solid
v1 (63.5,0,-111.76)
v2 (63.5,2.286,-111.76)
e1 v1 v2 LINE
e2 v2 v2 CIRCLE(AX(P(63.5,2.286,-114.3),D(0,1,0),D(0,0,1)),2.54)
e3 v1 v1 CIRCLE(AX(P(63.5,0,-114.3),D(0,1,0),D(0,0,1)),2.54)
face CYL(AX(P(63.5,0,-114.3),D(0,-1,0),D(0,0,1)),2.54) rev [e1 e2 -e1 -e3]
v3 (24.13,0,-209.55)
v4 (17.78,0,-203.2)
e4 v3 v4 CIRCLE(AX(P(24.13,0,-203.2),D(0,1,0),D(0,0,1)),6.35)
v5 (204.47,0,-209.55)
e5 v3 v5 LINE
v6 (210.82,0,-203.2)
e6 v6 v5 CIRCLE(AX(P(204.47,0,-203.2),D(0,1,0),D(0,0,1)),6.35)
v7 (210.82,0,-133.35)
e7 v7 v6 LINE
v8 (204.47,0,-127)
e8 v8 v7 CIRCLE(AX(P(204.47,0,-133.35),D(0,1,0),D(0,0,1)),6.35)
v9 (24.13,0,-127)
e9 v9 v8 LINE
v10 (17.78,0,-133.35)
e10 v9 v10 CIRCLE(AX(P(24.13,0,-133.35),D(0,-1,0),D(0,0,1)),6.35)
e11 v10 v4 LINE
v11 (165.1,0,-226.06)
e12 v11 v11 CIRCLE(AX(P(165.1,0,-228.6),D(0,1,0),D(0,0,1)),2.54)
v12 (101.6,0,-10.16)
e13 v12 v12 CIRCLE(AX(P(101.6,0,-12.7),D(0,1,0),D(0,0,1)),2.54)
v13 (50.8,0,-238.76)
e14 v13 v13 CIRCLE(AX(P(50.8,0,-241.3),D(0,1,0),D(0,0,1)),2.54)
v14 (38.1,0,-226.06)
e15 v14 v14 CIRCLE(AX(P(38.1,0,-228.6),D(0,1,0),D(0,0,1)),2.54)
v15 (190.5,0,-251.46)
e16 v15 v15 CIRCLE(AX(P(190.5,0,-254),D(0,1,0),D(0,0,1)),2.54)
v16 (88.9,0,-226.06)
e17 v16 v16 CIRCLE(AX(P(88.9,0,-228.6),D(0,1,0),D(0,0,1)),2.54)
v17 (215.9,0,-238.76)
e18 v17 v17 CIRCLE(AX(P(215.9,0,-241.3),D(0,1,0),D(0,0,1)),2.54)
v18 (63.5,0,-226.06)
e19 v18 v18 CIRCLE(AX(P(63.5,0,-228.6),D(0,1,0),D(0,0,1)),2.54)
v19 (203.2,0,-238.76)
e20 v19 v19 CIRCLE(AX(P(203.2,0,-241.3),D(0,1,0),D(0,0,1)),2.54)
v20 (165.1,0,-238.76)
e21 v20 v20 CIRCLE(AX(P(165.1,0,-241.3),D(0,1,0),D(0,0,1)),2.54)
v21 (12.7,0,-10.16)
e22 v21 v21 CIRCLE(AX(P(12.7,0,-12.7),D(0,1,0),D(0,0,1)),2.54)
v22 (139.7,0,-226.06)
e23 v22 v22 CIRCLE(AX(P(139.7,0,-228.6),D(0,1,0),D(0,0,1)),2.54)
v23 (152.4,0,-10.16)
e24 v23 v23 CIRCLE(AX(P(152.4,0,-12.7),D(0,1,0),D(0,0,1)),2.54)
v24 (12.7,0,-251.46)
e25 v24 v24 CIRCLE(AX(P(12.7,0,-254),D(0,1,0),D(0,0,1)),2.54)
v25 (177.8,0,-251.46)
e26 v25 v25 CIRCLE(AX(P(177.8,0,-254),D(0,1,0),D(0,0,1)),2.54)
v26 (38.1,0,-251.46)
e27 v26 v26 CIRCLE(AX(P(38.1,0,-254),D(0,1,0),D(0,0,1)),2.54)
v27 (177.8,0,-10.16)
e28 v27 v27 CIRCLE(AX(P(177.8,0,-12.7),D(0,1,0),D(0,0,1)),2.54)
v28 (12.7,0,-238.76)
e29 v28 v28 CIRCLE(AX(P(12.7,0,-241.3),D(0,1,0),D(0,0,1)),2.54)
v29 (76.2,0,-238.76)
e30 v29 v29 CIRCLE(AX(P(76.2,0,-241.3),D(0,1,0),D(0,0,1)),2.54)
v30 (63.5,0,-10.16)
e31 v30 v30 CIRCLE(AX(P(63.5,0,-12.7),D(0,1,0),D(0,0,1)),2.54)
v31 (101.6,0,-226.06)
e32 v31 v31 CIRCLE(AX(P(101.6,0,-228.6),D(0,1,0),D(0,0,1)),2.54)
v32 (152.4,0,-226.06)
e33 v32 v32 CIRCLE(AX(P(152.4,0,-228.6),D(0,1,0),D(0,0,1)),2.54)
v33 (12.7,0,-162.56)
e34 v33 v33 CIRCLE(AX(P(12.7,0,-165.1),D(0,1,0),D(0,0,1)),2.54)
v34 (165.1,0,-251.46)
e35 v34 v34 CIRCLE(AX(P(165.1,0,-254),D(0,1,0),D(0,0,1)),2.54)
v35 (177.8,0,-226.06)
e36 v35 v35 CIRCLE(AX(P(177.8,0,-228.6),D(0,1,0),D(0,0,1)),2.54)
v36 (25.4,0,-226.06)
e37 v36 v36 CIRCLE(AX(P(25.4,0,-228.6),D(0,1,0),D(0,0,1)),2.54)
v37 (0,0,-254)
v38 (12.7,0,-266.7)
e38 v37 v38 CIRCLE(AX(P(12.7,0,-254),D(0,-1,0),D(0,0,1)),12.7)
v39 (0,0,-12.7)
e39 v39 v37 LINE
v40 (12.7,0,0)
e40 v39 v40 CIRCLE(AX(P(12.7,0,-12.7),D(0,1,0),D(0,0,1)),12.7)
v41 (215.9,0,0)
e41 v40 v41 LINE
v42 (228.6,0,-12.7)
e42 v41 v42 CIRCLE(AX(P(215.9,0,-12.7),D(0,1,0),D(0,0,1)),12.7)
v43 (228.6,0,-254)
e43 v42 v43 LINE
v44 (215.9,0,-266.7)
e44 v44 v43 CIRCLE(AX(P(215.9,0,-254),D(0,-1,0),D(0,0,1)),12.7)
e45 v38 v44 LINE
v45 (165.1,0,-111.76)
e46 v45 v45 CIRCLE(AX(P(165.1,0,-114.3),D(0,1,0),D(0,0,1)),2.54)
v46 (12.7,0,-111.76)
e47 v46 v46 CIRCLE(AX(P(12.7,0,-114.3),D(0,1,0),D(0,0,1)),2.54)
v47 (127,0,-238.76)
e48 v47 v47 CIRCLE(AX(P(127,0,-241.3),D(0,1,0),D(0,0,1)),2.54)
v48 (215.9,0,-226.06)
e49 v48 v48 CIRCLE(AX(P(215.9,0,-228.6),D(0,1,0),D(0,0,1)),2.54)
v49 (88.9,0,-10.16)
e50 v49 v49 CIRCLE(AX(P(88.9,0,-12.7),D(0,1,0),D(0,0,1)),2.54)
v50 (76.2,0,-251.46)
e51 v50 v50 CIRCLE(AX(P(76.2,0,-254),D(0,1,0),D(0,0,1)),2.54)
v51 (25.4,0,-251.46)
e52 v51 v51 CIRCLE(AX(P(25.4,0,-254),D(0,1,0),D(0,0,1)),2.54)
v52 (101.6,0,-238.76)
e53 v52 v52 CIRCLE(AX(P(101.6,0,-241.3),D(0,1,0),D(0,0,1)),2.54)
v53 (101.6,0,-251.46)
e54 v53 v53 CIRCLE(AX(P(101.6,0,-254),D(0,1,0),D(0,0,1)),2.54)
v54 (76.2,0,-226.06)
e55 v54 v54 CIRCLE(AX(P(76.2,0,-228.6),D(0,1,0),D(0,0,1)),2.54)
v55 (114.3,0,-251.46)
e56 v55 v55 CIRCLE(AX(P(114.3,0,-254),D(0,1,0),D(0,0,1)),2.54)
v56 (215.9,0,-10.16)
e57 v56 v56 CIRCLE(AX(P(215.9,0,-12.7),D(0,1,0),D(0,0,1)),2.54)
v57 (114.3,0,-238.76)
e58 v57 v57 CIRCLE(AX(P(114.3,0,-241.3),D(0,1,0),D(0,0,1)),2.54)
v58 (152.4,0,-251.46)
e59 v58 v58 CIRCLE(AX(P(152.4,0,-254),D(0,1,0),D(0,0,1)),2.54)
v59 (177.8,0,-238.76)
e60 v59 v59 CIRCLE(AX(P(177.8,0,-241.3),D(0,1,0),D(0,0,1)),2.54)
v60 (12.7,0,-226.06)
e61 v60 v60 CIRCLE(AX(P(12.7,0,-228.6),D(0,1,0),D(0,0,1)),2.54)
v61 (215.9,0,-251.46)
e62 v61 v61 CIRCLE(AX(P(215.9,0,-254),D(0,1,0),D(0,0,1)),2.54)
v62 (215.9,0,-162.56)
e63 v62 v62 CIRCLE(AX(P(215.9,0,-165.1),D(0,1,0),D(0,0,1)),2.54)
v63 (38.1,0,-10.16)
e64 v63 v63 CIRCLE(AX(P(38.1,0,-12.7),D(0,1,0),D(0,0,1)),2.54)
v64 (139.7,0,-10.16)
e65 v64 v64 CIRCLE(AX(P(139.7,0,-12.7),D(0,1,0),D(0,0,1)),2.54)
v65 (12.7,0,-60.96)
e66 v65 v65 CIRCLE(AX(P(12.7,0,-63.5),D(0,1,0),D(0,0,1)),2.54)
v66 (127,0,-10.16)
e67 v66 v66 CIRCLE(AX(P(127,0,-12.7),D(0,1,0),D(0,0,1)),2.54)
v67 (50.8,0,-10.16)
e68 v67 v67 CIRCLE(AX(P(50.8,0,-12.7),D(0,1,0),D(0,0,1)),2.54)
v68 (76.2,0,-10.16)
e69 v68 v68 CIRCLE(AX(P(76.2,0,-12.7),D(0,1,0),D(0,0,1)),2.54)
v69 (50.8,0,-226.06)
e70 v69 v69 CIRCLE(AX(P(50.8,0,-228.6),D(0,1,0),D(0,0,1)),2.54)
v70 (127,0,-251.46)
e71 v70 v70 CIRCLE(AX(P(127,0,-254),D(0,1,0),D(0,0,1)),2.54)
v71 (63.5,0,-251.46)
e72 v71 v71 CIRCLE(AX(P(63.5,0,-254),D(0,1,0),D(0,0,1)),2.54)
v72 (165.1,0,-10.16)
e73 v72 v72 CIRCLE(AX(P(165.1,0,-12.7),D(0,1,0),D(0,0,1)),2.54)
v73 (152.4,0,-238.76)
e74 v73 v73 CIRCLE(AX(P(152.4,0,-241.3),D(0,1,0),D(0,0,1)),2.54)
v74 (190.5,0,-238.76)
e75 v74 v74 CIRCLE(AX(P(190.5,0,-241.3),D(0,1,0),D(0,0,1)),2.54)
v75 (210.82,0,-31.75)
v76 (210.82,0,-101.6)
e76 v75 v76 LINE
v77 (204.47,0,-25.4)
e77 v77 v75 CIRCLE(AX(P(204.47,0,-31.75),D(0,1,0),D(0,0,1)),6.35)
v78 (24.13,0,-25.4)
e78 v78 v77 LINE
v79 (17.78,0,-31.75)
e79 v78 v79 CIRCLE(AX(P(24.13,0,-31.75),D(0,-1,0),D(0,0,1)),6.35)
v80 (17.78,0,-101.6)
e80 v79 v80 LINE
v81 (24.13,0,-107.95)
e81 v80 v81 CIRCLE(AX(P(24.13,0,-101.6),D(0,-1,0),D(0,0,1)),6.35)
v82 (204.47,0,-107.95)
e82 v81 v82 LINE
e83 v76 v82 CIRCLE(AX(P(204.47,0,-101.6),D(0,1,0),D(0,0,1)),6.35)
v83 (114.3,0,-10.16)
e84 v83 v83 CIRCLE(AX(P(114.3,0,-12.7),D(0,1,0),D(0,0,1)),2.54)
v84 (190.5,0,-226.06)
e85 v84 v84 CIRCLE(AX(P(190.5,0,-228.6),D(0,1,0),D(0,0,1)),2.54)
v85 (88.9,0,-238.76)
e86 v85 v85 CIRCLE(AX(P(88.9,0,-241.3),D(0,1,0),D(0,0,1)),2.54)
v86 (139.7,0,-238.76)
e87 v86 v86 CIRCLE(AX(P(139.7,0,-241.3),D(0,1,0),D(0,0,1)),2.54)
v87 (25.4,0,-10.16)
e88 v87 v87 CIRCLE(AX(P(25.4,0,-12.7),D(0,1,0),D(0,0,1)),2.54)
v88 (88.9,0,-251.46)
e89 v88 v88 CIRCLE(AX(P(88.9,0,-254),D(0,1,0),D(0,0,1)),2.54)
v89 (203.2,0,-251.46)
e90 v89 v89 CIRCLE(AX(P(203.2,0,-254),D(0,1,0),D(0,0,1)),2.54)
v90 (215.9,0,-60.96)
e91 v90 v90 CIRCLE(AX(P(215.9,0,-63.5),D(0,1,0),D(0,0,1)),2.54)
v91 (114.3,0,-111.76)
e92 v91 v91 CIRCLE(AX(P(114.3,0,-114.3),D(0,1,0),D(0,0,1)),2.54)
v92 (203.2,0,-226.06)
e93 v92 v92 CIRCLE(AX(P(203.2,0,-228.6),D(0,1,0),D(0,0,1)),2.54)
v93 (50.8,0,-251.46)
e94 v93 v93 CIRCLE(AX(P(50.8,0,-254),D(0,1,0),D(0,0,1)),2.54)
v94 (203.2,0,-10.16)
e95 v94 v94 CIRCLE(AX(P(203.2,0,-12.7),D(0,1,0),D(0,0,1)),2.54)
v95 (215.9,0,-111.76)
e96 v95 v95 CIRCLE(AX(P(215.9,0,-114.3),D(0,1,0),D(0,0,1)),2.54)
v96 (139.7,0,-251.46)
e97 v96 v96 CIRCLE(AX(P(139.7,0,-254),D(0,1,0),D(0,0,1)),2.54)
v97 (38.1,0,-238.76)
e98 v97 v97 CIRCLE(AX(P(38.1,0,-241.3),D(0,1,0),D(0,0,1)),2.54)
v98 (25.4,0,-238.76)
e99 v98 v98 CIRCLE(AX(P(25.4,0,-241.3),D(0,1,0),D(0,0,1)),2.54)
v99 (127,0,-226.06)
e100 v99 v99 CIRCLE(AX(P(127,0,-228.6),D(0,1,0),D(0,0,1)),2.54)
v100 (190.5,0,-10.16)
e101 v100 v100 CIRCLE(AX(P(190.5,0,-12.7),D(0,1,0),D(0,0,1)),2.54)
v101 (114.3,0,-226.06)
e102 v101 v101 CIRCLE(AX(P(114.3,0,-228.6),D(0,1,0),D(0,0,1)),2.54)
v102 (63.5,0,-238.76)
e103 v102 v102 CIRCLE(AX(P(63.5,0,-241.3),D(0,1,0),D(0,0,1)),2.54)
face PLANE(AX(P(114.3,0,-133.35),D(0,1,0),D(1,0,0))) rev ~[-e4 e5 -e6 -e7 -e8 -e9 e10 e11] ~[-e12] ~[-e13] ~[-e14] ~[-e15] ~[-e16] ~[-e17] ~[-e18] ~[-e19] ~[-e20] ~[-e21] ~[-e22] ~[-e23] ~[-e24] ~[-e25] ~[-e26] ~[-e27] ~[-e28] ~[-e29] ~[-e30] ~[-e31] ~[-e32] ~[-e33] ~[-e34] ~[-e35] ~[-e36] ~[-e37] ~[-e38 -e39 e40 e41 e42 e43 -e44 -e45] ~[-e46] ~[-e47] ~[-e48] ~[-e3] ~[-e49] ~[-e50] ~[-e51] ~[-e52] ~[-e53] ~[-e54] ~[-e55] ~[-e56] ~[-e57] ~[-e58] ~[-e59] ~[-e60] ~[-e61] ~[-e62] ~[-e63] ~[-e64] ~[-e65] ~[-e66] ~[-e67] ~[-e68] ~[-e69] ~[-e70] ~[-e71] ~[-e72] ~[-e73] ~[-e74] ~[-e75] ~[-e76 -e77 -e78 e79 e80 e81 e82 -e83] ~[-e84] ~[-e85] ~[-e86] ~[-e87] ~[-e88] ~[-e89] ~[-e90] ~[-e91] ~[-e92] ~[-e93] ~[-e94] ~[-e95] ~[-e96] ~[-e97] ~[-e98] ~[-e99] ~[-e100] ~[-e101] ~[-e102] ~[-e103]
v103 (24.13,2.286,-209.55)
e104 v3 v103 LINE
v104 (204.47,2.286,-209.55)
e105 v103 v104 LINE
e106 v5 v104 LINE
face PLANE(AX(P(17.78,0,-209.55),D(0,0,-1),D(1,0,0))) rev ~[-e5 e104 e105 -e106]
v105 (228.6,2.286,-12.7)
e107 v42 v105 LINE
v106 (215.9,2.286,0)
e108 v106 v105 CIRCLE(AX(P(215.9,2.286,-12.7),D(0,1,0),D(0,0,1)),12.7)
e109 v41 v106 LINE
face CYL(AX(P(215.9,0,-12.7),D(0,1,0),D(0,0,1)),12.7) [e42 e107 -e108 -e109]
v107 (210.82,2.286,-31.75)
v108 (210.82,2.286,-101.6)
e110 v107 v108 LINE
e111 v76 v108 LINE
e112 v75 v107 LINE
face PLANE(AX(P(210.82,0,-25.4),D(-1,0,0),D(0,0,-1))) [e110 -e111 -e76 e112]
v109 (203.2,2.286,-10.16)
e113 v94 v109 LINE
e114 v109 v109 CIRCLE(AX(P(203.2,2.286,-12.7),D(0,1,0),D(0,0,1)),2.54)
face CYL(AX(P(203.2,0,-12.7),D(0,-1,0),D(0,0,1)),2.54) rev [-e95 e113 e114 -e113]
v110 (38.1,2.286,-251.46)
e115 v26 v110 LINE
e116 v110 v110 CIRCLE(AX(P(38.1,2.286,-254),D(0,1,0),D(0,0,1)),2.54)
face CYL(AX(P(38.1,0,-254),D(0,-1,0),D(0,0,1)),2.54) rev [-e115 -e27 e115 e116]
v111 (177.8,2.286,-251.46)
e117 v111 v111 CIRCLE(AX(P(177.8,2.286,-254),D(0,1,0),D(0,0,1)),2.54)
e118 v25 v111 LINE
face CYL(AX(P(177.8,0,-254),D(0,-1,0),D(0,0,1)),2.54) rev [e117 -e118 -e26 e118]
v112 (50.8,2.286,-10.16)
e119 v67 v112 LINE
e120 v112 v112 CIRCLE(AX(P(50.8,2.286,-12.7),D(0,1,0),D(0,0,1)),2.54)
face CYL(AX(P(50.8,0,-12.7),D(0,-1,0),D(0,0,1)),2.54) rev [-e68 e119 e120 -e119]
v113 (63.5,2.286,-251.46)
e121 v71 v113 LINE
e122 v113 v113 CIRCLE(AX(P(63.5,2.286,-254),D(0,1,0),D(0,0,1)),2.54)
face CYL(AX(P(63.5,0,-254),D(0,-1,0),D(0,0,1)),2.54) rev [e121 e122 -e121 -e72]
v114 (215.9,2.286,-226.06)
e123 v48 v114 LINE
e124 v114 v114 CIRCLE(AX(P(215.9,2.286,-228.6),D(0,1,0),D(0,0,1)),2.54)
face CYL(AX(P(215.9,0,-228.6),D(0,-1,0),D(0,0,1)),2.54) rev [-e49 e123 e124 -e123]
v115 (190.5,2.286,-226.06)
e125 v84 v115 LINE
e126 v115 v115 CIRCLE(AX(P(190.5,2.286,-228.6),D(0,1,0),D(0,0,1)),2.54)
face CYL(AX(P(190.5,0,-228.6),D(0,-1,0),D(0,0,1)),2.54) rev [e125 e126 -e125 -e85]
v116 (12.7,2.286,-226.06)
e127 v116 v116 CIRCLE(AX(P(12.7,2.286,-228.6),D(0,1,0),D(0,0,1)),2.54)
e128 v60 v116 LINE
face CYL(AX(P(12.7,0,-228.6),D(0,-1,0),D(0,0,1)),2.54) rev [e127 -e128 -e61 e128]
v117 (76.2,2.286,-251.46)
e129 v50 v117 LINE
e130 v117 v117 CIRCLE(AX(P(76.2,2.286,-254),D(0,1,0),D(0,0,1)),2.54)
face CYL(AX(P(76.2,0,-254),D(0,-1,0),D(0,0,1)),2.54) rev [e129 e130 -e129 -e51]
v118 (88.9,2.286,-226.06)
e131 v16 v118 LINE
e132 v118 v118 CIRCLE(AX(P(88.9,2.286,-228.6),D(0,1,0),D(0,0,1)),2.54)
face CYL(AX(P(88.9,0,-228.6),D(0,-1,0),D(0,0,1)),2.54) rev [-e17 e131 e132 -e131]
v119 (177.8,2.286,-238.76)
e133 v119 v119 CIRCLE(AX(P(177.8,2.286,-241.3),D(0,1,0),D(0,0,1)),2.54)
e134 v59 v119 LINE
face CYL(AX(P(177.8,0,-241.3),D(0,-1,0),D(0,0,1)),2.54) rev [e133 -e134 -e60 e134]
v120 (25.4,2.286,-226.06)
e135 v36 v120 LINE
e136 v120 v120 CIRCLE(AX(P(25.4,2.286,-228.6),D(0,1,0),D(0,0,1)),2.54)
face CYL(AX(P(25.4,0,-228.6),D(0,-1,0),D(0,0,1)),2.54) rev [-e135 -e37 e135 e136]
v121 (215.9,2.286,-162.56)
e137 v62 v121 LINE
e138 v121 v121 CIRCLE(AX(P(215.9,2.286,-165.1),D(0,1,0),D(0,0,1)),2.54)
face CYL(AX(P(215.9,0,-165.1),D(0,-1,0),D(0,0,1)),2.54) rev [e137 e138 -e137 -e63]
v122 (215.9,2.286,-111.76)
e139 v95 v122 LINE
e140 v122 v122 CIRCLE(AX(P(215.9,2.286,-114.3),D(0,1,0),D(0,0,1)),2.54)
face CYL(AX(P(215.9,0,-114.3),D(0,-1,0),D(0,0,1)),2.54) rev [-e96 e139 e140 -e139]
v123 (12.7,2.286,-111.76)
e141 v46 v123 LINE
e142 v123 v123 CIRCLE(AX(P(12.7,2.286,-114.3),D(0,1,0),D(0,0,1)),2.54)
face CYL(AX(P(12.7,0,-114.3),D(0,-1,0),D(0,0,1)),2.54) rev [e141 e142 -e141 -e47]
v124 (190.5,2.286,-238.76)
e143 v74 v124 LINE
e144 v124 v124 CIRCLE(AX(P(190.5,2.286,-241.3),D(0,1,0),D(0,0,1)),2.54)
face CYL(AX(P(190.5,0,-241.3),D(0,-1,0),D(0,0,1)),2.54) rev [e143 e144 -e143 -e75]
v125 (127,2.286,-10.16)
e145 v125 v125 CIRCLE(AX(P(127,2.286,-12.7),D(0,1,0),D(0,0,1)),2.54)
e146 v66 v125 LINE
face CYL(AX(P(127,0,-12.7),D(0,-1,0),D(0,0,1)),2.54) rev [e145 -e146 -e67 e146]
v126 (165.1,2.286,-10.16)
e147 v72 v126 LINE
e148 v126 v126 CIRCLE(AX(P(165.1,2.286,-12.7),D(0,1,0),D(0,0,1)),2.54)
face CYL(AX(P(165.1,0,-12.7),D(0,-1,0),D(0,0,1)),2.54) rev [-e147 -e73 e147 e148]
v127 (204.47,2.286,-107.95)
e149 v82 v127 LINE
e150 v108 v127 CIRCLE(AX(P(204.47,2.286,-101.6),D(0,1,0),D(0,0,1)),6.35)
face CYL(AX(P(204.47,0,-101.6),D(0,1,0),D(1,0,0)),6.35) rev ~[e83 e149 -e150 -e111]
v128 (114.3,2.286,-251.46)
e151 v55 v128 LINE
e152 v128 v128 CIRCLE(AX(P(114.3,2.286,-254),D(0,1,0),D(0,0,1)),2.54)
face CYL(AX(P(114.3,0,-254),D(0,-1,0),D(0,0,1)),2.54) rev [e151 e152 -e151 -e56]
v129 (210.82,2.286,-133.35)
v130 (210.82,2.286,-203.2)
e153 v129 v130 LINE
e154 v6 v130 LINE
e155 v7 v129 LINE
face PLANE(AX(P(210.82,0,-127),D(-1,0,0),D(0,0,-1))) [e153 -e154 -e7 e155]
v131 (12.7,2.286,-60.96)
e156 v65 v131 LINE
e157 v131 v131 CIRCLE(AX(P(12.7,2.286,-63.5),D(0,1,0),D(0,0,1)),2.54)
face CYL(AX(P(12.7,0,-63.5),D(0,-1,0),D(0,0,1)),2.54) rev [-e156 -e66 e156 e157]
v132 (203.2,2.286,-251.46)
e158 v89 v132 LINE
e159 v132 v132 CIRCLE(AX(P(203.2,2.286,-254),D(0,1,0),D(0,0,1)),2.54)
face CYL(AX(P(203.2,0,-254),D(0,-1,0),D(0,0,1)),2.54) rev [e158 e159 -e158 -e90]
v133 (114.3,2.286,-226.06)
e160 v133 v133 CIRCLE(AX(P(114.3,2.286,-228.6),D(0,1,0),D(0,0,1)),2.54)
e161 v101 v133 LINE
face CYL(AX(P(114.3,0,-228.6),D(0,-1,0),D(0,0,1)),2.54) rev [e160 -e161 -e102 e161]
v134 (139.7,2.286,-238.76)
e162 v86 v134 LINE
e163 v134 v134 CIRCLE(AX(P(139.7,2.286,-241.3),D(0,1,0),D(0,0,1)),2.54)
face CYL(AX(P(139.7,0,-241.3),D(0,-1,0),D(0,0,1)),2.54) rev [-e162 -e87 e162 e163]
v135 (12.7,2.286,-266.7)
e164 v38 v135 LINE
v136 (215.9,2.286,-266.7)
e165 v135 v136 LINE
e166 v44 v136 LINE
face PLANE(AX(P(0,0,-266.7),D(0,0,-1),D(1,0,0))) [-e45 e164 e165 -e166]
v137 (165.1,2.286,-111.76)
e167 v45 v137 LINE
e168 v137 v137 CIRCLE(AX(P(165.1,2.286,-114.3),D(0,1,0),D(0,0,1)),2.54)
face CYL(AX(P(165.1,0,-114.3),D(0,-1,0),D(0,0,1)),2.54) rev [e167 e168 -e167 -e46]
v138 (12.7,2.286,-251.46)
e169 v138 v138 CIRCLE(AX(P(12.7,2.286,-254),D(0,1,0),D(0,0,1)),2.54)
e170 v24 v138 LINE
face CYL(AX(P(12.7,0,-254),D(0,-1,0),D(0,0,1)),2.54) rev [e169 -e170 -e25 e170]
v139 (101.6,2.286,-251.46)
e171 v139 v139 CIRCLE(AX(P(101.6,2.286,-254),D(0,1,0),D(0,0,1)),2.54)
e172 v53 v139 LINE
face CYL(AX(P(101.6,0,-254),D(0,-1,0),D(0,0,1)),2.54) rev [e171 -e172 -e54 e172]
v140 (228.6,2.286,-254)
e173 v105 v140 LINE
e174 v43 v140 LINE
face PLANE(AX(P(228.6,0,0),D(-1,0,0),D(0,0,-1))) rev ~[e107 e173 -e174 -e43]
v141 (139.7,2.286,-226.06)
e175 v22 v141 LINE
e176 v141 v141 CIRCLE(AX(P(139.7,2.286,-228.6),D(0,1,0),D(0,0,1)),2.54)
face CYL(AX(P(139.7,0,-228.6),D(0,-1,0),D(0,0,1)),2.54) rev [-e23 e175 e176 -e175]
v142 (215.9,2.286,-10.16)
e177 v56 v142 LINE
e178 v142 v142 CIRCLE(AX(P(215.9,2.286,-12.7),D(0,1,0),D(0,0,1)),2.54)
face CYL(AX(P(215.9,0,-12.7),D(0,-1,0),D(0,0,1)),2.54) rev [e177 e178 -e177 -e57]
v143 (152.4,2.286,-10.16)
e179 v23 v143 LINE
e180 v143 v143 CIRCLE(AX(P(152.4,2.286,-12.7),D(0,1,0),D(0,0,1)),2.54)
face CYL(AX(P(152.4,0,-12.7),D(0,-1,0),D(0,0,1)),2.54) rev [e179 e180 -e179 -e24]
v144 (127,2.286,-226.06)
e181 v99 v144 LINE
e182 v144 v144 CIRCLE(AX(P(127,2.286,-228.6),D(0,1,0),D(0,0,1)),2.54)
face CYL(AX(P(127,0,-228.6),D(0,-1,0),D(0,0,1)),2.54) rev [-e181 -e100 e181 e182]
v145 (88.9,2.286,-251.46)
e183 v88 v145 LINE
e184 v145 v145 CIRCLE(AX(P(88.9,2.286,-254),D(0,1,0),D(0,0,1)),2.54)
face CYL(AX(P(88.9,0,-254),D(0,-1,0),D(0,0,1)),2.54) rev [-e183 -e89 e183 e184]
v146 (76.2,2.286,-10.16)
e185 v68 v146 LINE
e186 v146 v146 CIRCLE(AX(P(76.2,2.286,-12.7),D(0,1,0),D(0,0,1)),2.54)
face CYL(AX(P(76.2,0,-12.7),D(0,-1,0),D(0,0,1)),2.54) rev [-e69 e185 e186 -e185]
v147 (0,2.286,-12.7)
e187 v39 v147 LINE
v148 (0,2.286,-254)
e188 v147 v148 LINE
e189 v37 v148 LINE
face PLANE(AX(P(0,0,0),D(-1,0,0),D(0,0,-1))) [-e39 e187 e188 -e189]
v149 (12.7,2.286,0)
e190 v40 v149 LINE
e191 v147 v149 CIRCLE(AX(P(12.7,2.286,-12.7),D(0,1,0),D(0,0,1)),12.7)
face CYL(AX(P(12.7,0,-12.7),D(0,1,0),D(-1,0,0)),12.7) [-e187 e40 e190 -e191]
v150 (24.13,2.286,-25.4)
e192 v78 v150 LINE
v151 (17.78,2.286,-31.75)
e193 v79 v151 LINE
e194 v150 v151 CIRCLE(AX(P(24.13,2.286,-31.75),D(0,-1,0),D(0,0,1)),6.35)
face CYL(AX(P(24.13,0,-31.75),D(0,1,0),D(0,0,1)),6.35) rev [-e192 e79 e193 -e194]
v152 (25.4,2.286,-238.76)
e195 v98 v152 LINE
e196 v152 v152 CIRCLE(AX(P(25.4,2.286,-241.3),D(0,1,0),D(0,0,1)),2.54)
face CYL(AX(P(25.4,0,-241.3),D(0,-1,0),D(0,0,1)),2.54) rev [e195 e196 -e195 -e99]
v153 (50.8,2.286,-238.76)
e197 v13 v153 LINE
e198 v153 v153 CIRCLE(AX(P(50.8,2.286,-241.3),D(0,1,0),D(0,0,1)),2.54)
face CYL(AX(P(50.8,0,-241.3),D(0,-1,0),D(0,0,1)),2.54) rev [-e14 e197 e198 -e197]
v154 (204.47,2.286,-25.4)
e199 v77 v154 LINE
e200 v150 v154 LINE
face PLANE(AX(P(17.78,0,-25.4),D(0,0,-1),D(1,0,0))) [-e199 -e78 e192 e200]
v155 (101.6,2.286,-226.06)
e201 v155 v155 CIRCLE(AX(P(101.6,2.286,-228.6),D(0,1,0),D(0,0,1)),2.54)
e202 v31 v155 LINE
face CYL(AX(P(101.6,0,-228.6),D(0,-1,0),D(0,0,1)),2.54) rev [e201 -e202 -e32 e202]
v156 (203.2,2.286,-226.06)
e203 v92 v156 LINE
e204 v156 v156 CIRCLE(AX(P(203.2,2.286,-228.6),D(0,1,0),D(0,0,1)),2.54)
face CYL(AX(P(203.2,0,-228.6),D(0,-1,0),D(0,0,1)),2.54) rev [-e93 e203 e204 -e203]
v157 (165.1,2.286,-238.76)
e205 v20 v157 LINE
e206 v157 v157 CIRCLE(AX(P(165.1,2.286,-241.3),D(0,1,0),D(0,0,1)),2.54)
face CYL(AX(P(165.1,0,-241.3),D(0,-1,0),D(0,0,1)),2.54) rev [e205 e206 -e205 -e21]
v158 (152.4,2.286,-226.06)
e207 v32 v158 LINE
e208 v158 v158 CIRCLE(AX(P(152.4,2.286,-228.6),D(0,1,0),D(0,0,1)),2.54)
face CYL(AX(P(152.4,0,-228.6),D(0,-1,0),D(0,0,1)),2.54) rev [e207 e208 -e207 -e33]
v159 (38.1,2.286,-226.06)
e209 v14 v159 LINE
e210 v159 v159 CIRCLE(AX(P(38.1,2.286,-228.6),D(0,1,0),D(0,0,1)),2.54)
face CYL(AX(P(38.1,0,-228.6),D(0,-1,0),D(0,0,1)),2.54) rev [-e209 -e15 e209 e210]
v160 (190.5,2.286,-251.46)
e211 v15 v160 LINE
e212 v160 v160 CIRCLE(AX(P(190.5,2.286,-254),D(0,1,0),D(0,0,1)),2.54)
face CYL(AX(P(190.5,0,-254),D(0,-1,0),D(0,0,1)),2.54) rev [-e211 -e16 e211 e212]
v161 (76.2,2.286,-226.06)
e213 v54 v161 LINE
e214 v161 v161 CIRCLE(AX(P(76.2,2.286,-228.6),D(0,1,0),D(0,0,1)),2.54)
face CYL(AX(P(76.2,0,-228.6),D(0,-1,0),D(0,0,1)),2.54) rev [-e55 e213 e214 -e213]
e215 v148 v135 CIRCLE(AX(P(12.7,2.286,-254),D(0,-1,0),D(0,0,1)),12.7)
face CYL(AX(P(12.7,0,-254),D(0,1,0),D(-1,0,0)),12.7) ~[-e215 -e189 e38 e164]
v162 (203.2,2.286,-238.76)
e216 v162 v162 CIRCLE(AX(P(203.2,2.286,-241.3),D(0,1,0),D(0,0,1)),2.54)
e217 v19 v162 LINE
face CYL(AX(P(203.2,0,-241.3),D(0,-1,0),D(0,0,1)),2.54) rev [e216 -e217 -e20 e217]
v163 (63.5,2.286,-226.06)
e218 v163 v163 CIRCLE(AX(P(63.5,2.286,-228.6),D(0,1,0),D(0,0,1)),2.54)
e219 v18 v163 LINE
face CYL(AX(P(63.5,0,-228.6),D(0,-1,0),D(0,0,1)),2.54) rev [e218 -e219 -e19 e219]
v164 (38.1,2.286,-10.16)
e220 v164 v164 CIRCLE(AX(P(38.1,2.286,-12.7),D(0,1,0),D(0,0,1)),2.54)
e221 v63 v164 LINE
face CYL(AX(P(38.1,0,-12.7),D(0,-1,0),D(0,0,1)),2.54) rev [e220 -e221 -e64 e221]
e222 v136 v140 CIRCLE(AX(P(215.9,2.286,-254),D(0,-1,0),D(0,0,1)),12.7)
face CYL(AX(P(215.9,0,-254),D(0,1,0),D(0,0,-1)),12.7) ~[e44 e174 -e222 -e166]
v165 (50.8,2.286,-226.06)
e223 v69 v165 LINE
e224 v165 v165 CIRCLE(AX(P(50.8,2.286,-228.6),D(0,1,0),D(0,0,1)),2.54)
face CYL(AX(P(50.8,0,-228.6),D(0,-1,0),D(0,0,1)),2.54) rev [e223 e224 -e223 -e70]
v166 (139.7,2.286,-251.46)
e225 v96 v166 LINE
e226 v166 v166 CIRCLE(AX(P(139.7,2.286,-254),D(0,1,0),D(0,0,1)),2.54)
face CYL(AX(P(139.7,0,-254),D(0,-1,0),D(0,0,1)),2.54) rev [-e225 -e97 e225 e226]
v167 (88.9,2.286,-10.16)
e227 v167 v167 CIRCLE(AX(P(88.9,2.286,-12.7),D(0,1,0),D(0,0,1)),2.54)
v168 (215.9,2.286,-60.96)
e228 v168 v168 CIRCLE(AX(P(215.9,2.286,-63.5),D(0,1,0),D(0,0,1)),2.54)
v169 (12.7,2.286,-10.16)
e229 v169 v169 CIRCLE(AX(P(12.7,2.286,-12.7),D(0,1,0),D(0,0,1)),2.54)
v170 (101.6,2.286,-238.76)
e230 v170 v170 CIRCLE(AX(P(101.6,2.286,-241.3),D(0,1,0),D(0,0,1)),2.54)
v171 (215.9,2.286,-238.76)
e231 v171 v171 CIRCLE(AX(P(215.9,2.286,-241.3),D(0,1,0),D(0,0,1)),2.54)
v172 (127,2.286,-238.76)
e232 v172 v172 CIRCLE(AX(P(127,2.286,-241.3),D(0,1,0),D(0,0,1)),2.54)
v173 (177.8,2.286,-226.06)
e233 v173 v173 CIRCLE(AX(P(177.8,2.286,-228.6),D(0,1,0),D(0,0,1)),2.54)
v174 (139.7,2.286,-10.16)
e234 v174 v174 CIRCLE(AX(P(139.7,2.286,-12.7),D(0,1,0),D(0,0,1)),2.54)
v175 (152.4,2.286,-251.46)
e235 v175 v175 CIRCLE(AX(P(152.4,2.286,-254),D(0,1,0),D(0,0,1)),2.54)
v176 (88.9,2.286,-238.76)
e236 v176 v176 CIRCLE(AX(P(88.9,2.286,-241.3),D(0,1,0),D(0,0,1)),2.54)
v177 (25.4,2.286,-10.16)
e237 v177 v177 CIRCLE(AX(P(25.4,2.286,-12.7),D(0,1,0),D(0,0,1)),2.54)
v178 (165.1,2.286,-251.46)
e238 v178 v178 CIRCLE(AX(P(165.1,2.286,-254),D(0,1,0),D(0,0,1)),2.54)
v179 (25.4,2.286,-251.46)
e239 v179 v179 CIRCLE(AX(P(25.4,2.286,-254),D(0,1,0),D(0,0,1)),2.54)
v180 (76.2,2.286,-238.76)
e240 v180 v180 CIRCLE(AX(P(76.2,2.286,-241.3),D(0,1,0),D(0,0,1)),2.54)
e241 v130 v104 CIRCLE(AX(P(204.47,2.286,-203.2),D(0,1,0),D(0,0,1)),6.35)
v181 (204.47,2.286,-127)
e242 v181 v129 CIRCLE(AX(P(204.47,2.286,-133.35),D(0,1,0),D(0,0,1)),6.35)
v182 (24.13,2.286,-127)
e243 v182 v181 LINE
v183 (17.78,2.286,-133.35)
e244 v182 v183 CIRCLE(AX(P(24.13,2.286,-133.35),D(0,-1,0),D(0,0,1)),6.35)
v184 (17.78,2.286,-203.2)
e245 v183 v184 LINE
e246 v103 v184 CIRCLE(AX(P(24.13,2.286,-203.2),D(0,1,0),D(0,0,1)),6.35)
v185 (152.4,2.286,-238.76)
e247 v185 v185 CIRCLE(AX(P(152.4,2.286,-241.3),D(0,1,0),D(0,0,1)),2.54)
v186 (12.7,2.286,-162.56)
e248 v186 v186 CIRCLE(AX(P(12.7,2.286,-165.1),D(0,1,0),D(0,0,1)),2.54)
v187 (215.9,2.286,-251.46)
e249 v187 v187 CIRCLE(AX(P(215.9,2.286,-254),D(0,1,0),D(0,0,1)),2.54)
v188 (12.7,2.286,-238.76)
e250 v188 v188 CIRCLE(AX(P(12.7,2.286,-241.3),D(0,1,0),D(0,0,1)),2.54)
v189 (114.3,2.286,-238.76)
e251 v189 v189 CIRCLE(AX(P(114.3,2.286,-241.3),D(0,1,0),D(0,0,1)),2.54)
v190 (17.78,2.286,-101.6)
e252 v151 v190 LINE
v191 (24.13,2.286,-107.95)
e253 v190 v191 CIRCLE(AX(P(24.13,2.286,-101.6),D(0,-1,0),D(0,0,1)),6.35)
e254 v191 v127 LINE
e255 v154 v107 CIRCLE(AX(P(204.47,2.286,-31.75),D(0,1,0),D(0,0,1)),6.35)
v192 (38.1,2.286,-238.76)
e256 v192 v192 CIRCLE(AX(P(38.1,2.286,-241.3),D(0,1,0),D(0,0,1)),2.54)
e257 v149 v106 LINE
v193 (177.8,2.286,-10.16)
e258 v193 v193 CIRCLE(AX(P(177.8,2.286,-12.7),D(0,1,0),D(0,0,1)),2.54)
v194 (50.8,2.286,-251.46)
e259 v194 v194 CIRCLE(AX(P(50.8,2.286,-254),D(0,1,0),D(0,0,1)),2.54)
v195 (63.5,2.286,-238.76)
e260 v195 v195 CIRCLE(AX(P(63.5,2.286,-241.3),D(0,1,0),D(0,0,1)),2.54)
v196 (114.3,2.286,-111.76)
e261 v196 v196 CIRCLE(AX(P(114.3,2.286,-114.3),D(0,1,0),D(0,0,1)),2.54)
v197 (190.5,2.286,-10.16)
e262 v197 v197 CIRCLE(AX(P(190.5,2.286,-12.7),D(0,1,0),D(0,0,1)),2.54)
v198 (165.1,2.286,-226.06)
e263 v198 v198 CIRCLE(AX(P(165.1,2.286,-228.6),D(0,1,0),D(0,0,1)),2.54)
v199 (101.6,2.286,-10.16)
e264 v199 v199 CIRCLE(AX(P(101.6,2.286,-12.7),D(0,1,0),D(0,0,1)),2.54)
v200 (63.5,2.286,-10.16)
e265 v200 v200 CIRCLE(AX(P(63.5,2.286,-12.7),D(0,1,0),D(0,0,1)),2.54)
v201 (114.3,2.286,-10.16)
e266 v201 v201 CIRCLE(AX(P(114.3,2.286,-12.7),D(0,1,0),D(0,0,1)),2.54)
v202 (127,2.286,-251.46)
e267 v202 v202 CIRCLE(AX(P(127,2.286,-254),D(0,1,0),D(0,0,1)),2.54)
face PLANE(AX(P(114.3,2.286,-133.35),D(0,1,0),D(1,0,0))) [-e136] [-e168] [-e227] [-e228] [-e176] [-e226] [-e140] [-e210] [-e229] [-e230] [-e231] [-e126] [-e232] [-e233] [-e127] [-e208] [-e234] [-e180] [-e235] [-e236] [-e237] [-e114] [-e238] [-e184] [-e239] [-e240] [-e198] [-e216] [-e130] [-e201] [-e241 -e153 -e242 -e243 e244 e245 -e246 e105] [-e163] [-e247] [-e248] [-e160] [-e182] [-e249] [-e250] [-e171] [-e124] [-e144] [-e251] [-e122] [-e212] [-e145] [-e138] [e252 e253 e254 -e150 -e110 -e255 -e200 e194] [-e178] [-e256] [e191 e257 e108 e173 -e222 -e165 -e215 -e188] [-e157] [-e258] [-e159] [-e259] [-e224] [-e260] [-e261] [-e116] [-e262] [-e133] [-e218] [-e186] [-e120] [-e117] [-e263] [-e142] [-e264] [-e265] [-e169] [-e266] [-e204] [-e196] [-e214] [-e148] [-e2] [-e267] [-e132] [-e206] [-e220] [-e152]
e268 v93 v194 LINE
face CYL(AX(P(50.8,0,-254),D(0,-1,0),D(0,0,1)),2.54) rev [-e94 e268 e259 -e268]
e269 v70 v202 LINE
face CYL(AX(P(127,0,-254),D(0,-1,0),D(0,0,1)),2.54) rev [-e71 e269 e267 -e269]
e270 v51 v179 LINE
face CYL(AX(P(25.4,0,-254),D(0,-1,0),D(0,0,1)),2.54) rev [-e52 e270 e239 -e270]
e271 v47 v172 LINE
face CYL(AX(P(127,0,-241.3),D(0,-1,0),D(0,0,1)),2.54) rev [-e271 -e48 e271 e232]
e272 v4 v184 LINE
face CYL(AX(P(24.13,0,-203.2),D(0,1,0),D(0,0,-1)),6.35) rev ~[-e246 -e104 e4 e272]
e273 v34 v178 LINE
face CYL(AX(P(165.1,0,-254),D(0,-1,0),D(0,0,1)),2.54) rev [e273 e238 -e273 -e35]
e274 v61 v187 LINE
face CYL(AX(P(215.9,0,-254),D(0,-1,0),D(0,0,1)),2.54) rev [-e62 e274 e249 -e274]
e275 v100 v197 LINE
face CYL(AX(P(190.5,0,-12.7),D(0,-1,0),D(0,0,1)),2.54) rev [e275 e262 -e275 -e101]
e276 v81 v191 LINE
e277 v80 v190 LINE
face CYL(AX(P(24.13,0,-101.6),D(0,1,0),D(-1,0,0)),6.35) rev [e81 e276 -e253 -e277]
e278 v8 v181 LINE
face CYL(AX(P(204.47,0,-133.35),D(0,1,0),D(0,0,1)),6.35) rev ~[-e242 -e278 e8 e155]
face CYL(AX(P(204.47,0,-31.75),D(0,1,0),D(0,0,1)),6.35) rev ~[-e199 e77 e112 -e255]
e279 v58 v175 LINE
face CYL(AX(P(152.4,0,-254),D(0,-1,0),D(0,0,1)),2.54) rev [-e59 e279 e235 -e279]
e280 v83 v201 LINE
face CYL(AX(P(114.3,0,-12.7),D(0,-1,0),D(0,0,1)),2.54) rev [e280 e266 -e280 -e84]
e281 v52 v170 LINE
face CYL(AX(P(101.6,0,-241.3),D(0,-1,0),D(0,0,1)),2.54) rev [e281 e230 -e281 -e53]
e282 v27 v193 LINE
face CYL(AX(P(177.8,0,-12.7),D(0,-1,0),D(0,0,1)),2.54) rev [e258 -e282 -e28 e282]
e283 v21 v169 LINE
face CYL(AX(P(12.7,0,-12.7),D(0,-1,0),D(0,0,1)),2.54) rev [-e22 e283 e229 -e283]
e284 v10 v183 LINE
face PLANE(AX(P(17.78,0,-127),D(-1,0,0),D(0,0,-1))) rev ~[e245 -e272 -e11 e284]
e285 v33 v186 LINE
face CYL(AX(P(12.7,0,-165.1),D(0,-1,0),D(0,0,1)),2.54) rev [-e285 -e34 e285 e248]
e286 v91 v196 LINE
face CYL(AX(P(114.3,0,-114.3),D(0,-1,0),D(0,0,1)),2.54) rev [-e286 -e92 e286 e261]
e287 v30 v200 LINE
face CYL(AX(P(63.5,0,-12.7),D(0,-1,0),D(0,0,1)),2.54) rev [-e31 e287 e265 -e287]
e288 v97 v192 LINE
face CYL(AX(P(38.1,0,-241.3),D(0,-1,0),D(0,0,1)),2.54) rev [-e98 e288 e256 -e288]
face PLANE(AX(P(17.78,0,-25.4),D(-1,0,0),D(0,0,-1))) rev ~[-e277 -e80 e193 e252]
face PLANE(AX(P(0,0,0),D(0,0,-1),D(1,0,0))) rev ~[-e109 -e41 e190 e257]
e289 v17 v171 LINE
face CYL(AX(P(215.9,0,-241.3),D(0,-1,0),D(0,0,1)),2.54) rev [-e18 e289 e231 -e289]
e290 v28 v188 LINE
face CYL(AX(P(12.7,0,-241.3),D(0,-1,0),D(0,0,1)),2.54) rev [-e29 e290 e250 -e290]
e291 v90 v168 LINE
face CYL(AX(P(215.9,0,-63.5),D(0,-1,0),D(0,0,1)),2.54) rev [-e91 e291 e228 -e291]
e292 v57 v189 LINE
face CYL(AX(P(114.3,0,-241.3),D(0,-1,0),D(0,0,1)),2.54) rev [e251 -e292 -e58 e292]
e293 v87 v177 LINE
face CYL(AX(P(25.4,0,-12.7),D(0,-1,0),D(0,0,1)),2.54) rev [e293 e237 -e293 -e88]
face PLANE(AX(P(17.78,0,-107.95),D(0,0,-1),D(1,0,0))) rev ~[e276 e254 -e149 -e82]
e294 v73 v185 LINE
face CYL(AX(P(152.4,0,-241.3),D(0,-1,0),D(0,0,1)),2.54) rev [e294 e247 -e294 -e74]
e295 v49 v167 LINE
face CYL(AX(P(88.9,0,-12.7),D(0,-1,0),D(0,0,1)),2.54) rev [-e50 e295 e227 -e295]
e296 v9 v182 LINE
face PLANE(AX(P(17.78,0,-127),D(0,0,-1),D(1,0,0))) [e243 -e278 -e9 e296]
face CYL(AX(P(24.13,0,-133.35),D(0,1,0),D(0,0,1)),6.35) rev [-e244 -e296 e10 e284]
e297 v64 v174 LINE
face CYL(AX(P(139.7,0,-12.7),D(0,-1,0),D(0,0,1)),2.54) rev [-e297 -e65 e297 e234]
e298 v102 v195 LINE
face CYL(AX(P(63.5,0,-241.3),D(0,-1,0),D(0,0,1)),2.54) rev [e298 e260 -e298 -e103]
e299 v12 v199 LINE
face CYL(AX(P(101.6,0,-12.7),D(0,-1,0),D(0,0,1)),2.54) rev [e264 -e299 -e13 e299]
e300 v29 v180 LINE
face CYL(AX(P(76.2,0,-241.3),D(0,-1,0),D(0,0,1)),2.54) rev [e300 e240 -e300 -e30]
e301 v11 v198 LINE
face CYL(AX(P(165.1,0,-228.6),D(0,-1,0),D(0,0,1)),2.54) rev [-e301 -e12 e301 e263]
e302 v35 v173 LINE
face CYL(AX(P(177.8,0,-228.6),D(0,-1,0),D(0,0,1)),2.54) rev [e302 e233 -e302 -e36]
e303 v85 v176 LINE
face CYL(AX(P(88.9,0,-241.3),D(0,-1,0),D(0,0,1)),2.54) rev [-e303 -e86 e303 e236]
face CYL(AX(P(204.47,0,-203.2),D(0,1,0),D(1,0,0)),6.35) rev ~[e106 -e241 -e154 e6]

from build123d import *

# Parameters (mm, degrees)
SKETCH3_W           = 228.6
SKETCH3_H           = 266.7
SKETCH3_R           = 2.54
SKETCH3_W_2         = 193.04
SKETCH3_H_2         = 82.55
BOSS_EXTRUDE3_DEPTH = 2.286
FILLET5_R           = 12.7
FILLET6_R           = 6.35


with BuildPart() as part:
    # Sketch3 → Boss-Extrude3 (new body)
    with BuildSketch(Plane(origin=(0, 0, 0), x_dir=(1, 0, 0), z_dir=(0, 1, 0))):
        with Locations((114.3, 133.35)):
            Rectangle(SKETCH3_W, SKETCH3_H)
        with Locations(Location((12.7, 254, 0), (0, 0, 270))):
            Circle(SKETCH3_R, mode=Mode.SUBTRACT)
        with Locations(Location((25.4, 254, 0), (0, 0, 270))):
            Circle(SKETCH3_R, mode=Mode.SUBTRACT)
        with Locations(Location((38.1, 254, 0), (0, 0, 270))):
            Circle(SKETCH3_R, mode=Mode.SUBTRACT)
        with Locations(Location((50.8, 254, 0), (0, 0, 270))):
            Circle(SKETCH3_R, mode=Mode.SUBTRACT)
        with Locations(Location((63.5, 254, 0), (0, 0, 270))):
            Circle(SKETCH3_R, mode=Mode.SUBTRACT)
        with Locations(Location((76.2, 254, 0), (0, 0, 270))):
            Circle(SKETCH3_R, mode=Mode.SUBTRACT)
        with Locations(Location((88.9, 254, 0), (0, 0, 270))):
            Circle(SKETCH3_R, mode=Mode.SUBTRACT)
        with Locations(Location((101.6, 254, 0), (0, 0, 270))):
            Circle(SKETCH3_R, mode=Mode.SUBTRACT)
        with Locations(Location((114.3, 254, 0), (0, 0, 270))):
            Circle(SKETCH3_R, mode=Mode.SUBTRACT)
        with Locations(Location((127, 254, 0), (0, 0, 270))):
            Circle(SKETCH3_R, mode=Mode.SUBTRACT)
        with Locations(Location((139.7, 254, 0), (0, 0, 270))):
            Circle(SKETCH3_R, mode=Mode.SUBTRACT)
        with Locations(Location((152.4, 254, 0), (0, 0, 270))):
            Circle(SKETCH3_R, mode=Mode.SUBTRACT)
        with Locations(Location((165.1, 254, 0), (0, 0, 270))):
            Circle(SKETCH3_R, mode=Mode.SUBTRACT)
        with Locations(Location((177.8, 254, 0), (0, 0, 270))):
            Circle(SKETCH3_R, mode=Mode.SUBTRACT)
        with Locations(Location((190.5, 254, 0), (0, 0, 270))):
            Circle(SKETCH3_R, mode=Mode.SUBTRACT)
        with Locations(Location((203.2, 254, 0), (0, 0, 270))):
            Circle(SKETCH3_R, mode=Mode.SUBTRACT)
        with Locations(Location((215.9, 254, 0), (0, 0, 270))):
            Circle(SKETCH3_R, mode=Mode.SUBTRACT)
        with Locations(Location((25.4, 241.3, 0), (0, 0, 270))):
            Circle(SKETCH3_R, mode=Mode.SUBTRACT)
        with Locations(Location((38.1, 241.3, 0), (0, 0, 270))):
            Circle(SKETCH3_R, mode=Mode.SUBTRACT)
        with Locations(Location((50.8, 241.3, 0), (0, 0, 270))):
            Circle(SKETCH3_R, mode=Mode.SUBTRACT)
        with Locations(Location((63.5, 241.3, 0), (0, 0, 270))):
            Circle(SKETCH3_R, mode=Mode.SUBTRACT)
        with Locations(Location((76.2, 241.3, 0), (0, 0, 270))):
            Circle(SKETCH3_R, mode=Mode.SUBTRACT)
        with Locations(Location((88.9, 241.3, 0), (0, 0, 270))):
            Circle(SKETCH3_R, mode=Mode.SUBTRACT)
        with Locations(Location((101.6, 241.3, 0), (0, 0, 270))):
            Circle(SKETCH3_R, mode=Mode.SUBTRACT)
        with Locations(Location((114.3, 241.3, 0), (0, 0, 270))):
            Circle(SKETCH3_R, mode=Mode.SUBTRACT)
        with Locations(Location((127, 241.3, 0), (0, 0, 270))):
            Circle(SKETCH3_R, mode=Mode.SUBTRACT)
        with Locations(Location((139.7, 241.3, 0), (0, 0, 270))):
            Circle(SKETCH3_R, mode=Mode.SUBTRACT)
        with Locations(Location((152.4, 241.3, 0), (0, 0, 270))):
            Circle(SKETCH3_R, mode=Mode.SUBTRACT)
        with Locations(Location((165.1, 241.3, 0), (0, 0, 270))):
            Circle(SKETCH3_R, mode=Mode.SUBTRACT)
        with Locations(Location((177.8, 241.3, 0), (0, 0, 270))):
            Circle(SKETCH3_R, mode=Mode.SUBTRACT)
        with Locations(Location((190.5, 241.3, 0), (0, 0, 270))):
            Circle(SKETCH3_R, mode=Mode.SUBTRACT)
        with Locations(Location((203.2, 241.3, 0), (0, 0, 270))):
            Circle(SKETCH3_R, mode=Mode.SUBTRACT)
        with Locations(Location((215.9, 241.3, 0), (0, 0, 270))):
            Circle(SKETCH3_R, mode=Mode.SUBTRACT)
        with Locations(Location((25.4, 228.6, 0), (0, 0, 270))):
            Circle(SKETCH3_R, mode=Mode.SUBTRACT)
        with Locations(Location((38.1, 228.6, 0), (0, 0, 270))):
            Circle(SKETCH3_R, mode=Mode.SUBTRACT)
        with Locations(Location((50.8, 228.6, 0), (0, 0, 270))):
            Circle(SKETCH3_R, mode=Mode.SUBTRACT)
        with Locations(Location((63.5, 228.6, 0), (0, 0, 270))):
            Circle(SKETCH3_R, mode=Mode.SUBTRACT)
        with Locations(Location((76.2, 228.6, 0), (0, 0, 270))):
            Circle(SKETCH3_R, mode=Mode.SUBTRACT)
        with Locations(Location((88.9, 228.6, 0), (0, 0, 270))):
            Circle(SKETCH3_R, mode=Mode.SUBTRACT)
        with Locations(Location((101.6, 228.6, 0), (0, 0, 270))):
            Circle(SKETCH3_R, mode=Mode.SUBTRACT)
        with Locations(Location((114.3, 228.6, 0), (0, 0, 270))):
            Circle(SKETCH3_R, mode=Mode.SUBTRACT)
        with Locations(Location((127, 228.6, 0), (0, 0, 270))):
            Circle(SKETCH3_R, mode=Mode.SUBTRACT)
        with Locations(Location((139.7, 228.6, 0), (0, 0, 270))):
            Circle(SKETCH3_R, mode=Mode.SUBTRACT)
        with Locations(Location((152.4, 228.6, 0), (0, 0, 270))):
            Circle(SKETCH3_R, mode=Mode.SUBTRACT)
        with Locations(Location((165.1, 228.6, 0), (0, 0, 270))):
            Circle(SKETCH3_R, mode=Mode.SUBTRACT)
        with Locations(Location((177.8, 228.6, 0), (0, 0, 270))):
            Circle(SKETCH3_R, mode=Mode.SUBTRACT)
        with Locations(Location((190.5, 228.6, 0), (0, 0, 270))):
            Circle(SKETCH3_R, mode=Mode.SUBTRACT)
        with Locations(Location((203.2, 228.6, 0), (0, 0, 270))):
            Circle(SKETCH3_R, mode=Mode.SUBTRACT)
        with Locations(Location((215.9, 228.6, 0), (0, 0, 270))):
            Circle(SKETCH3_R, mode=Mode.SUBTRACT)
        with Locations(Location((12.7, 241.3, 0), (0, 0, 270))):
            Circle(SKETCH3_R, mode=Mode.SUBTRACT)
        with Locations(Location((12.7, 228.6, 0), (0, 0, 270))):
            Circle(SKETCH3_R, mode=Mode.SUBTRACT)
        with Locations(Location((12.7, 12.7, 0), (0, 0, 270))):
            Circle(SKETCH3_R, mode=Mode.SUBTRACT)
        with Locations(Location((25.4, 12.7, 0), (0, 0, 270))):
            Circle(SKETCH3_R, mode=Mode.SUBTRACT)
        with Locations(Location((38.1, 12.7, 0), (0, 0, 270))):
            Circle(SKETCH3_R, mode=Mode.SUBTRACT)
        with Locations(Location((50.8, 12.7, 0), (0, 0, 270))):
            Circle(SKETCH3_R, mode=Mode.SUBTRACT)
        with Locations(Location((63.5, 12.7, 0), (0, 0, 270))):
            Circle(SKETCH3_R, mode=Mode.SUBTRACT)
        with Locations(Location((76.2, 12.7, 0), (0, 0, 270))):
            Circle(SKETCH3_R, mode=Mode.SUBTRACT)
        with Locations(Location((88.9, 12.7, 0), (0, 0, 270))):
            Circle(SKETCH3_R, mode=Mode.SUBTRACT)
        with Locations(Location((101.6, 12.7, 0), (0, 0, 270))):
            Circle(SKETCH3_R, mode=Mode.SUBTRACT)
        with Locations(Location((114.3, 12.7, 0), (0, 0, 270))):
            Circle(SKETCH3_R, mode=Mode.SUBTRACT)
        with Locations(Location((127, 12.7, 0), (0, 0, 270))):
            Circle(SKETCH3_R, mode=Mode.SUBTRACT)
        with Locations(Location((139.7, 12.7, 0), (0, 0, 270))):
            Circle(SKETCH3_R, mode=Mode.SUBTRACT)
        with Locations(Location((152.4, 12.7, 0), (0, 0, 270))):
            Circle(SKETCH3_R, mode=Mode.SUBTRACT)
        with Locations(Location((165.1, 12.7, 0), (0, 0, 270))):
            Circle(SKETCH3_R, mode=Mode.SUBTRACT)
        with Locations(Location((177.8, 12.7, 0), (0, 0, 270))):
            Circle(SKETCH3_R, mode=Mode.SUBTRACT)
        with Locations(Location((190.5, 12.7, 0), (0, 0, 270))):
            Circle(SKETCH3_R, mode=Mode.SUBTRACT)
        with Locations(Location((203.2, 12.7, 0), (0, 0, 270))):
            Circle(SKETCH3_R, mode=Mode.SUBTRACT)
        with Locations(Location((215.9, 12.7, 0), (0, 0, 270))):
            Circle(SKETCH3_R, mode=Mode.SUBTRACT)
        with Locations(Location((12.7, 114.3, 0), (0, 0, 270))):
            Circle(SKETCH3_R, mode=Mode.SUBTRACT)
        with Locations(Location((63.5, 114.3, 0), (0, 0, 270))):
            Circle(SKETCH3_R, mode=Mode.SUBTRACT)
        with Locations(Location((114.3, 114.3, 0), (0, 0, 270))):
            Circle(SKETCH3_R, mode=Mode.SUBTRACT)
        with Locations(Location((165.1, 114.3, 0), (0, 0, 270))):
            Circle(SKETCH3_R, mode=Mode.SUBTRACT)
        with Locations(Location((215.9, 114.3, 0), (0, 0, 270))):
            Circle(SKETCH3_R, mode=Mode.SUBTRACT)
        with Locations(Location((12.7, 165.1, 0), (0, 0, 270))):
            Circle(SKETCH3_R, mode=Mode.SUBTRACT)
        with Locations(Location((215.9, 165.1, 0), (0, 0, 270))):
            Circle(SKETCH3_R, mode=Mode.SUBTRACT)
        with Locations(Location((12.7, 63.5, 0), (0, 0, 270))):
            Circle(SKETCH3_R, mode=Mode.SUBTRACT)
        with Locations(Location((215.9, 63.5, 0), (0, 0, 270))):
            Circle(SKETCH3_R, mode=Mode.SUBTRACT)
        with Locations((114.3, 66.675)):
            Rectangle(SKETCH3_W_2, SKETCH3_H_2, mode=Mode.SUBTRACT)
        with Locations((114.3, 168.275)):
            Rectangle(SKETCH3_W_2, SKETCH3_H_2, mode=Mode.SUBTRACT)
    extrude(amount=BOSS_EXTRUDE3_DEPTH)

    # Fillet5
    fillet5_edges = [part.edges().sort_by_distance(p)[0] for p in [
        (0, 1.143, -266.7),
        (228.6, 1.143, -266.7),
        (228.6, 1.143, 0),
        (0, 1.143, 0),
    ]]
    fillet(fillet5_edges, radius=FILLET5_R)

    # Fillet6
    fillet6_edges = [part.edges().sort_by_distance(p)[0] for p in [
        (210.82, 1.143, -107.95),
        (17.78, 1.143, -107.95),
        (17.78, 1.143, -25.4),
        (210.82, 1.143, -25.4),
        (17.78, 1.143, -209.55),
        (17.78, 1.143, -127),
        (210.82, 1.143, -127),
        (210.82, 1.143, -209.55),
    ]]
    fillet(fillet6_edges, radius=FILLET6_R)


solid = part.part
